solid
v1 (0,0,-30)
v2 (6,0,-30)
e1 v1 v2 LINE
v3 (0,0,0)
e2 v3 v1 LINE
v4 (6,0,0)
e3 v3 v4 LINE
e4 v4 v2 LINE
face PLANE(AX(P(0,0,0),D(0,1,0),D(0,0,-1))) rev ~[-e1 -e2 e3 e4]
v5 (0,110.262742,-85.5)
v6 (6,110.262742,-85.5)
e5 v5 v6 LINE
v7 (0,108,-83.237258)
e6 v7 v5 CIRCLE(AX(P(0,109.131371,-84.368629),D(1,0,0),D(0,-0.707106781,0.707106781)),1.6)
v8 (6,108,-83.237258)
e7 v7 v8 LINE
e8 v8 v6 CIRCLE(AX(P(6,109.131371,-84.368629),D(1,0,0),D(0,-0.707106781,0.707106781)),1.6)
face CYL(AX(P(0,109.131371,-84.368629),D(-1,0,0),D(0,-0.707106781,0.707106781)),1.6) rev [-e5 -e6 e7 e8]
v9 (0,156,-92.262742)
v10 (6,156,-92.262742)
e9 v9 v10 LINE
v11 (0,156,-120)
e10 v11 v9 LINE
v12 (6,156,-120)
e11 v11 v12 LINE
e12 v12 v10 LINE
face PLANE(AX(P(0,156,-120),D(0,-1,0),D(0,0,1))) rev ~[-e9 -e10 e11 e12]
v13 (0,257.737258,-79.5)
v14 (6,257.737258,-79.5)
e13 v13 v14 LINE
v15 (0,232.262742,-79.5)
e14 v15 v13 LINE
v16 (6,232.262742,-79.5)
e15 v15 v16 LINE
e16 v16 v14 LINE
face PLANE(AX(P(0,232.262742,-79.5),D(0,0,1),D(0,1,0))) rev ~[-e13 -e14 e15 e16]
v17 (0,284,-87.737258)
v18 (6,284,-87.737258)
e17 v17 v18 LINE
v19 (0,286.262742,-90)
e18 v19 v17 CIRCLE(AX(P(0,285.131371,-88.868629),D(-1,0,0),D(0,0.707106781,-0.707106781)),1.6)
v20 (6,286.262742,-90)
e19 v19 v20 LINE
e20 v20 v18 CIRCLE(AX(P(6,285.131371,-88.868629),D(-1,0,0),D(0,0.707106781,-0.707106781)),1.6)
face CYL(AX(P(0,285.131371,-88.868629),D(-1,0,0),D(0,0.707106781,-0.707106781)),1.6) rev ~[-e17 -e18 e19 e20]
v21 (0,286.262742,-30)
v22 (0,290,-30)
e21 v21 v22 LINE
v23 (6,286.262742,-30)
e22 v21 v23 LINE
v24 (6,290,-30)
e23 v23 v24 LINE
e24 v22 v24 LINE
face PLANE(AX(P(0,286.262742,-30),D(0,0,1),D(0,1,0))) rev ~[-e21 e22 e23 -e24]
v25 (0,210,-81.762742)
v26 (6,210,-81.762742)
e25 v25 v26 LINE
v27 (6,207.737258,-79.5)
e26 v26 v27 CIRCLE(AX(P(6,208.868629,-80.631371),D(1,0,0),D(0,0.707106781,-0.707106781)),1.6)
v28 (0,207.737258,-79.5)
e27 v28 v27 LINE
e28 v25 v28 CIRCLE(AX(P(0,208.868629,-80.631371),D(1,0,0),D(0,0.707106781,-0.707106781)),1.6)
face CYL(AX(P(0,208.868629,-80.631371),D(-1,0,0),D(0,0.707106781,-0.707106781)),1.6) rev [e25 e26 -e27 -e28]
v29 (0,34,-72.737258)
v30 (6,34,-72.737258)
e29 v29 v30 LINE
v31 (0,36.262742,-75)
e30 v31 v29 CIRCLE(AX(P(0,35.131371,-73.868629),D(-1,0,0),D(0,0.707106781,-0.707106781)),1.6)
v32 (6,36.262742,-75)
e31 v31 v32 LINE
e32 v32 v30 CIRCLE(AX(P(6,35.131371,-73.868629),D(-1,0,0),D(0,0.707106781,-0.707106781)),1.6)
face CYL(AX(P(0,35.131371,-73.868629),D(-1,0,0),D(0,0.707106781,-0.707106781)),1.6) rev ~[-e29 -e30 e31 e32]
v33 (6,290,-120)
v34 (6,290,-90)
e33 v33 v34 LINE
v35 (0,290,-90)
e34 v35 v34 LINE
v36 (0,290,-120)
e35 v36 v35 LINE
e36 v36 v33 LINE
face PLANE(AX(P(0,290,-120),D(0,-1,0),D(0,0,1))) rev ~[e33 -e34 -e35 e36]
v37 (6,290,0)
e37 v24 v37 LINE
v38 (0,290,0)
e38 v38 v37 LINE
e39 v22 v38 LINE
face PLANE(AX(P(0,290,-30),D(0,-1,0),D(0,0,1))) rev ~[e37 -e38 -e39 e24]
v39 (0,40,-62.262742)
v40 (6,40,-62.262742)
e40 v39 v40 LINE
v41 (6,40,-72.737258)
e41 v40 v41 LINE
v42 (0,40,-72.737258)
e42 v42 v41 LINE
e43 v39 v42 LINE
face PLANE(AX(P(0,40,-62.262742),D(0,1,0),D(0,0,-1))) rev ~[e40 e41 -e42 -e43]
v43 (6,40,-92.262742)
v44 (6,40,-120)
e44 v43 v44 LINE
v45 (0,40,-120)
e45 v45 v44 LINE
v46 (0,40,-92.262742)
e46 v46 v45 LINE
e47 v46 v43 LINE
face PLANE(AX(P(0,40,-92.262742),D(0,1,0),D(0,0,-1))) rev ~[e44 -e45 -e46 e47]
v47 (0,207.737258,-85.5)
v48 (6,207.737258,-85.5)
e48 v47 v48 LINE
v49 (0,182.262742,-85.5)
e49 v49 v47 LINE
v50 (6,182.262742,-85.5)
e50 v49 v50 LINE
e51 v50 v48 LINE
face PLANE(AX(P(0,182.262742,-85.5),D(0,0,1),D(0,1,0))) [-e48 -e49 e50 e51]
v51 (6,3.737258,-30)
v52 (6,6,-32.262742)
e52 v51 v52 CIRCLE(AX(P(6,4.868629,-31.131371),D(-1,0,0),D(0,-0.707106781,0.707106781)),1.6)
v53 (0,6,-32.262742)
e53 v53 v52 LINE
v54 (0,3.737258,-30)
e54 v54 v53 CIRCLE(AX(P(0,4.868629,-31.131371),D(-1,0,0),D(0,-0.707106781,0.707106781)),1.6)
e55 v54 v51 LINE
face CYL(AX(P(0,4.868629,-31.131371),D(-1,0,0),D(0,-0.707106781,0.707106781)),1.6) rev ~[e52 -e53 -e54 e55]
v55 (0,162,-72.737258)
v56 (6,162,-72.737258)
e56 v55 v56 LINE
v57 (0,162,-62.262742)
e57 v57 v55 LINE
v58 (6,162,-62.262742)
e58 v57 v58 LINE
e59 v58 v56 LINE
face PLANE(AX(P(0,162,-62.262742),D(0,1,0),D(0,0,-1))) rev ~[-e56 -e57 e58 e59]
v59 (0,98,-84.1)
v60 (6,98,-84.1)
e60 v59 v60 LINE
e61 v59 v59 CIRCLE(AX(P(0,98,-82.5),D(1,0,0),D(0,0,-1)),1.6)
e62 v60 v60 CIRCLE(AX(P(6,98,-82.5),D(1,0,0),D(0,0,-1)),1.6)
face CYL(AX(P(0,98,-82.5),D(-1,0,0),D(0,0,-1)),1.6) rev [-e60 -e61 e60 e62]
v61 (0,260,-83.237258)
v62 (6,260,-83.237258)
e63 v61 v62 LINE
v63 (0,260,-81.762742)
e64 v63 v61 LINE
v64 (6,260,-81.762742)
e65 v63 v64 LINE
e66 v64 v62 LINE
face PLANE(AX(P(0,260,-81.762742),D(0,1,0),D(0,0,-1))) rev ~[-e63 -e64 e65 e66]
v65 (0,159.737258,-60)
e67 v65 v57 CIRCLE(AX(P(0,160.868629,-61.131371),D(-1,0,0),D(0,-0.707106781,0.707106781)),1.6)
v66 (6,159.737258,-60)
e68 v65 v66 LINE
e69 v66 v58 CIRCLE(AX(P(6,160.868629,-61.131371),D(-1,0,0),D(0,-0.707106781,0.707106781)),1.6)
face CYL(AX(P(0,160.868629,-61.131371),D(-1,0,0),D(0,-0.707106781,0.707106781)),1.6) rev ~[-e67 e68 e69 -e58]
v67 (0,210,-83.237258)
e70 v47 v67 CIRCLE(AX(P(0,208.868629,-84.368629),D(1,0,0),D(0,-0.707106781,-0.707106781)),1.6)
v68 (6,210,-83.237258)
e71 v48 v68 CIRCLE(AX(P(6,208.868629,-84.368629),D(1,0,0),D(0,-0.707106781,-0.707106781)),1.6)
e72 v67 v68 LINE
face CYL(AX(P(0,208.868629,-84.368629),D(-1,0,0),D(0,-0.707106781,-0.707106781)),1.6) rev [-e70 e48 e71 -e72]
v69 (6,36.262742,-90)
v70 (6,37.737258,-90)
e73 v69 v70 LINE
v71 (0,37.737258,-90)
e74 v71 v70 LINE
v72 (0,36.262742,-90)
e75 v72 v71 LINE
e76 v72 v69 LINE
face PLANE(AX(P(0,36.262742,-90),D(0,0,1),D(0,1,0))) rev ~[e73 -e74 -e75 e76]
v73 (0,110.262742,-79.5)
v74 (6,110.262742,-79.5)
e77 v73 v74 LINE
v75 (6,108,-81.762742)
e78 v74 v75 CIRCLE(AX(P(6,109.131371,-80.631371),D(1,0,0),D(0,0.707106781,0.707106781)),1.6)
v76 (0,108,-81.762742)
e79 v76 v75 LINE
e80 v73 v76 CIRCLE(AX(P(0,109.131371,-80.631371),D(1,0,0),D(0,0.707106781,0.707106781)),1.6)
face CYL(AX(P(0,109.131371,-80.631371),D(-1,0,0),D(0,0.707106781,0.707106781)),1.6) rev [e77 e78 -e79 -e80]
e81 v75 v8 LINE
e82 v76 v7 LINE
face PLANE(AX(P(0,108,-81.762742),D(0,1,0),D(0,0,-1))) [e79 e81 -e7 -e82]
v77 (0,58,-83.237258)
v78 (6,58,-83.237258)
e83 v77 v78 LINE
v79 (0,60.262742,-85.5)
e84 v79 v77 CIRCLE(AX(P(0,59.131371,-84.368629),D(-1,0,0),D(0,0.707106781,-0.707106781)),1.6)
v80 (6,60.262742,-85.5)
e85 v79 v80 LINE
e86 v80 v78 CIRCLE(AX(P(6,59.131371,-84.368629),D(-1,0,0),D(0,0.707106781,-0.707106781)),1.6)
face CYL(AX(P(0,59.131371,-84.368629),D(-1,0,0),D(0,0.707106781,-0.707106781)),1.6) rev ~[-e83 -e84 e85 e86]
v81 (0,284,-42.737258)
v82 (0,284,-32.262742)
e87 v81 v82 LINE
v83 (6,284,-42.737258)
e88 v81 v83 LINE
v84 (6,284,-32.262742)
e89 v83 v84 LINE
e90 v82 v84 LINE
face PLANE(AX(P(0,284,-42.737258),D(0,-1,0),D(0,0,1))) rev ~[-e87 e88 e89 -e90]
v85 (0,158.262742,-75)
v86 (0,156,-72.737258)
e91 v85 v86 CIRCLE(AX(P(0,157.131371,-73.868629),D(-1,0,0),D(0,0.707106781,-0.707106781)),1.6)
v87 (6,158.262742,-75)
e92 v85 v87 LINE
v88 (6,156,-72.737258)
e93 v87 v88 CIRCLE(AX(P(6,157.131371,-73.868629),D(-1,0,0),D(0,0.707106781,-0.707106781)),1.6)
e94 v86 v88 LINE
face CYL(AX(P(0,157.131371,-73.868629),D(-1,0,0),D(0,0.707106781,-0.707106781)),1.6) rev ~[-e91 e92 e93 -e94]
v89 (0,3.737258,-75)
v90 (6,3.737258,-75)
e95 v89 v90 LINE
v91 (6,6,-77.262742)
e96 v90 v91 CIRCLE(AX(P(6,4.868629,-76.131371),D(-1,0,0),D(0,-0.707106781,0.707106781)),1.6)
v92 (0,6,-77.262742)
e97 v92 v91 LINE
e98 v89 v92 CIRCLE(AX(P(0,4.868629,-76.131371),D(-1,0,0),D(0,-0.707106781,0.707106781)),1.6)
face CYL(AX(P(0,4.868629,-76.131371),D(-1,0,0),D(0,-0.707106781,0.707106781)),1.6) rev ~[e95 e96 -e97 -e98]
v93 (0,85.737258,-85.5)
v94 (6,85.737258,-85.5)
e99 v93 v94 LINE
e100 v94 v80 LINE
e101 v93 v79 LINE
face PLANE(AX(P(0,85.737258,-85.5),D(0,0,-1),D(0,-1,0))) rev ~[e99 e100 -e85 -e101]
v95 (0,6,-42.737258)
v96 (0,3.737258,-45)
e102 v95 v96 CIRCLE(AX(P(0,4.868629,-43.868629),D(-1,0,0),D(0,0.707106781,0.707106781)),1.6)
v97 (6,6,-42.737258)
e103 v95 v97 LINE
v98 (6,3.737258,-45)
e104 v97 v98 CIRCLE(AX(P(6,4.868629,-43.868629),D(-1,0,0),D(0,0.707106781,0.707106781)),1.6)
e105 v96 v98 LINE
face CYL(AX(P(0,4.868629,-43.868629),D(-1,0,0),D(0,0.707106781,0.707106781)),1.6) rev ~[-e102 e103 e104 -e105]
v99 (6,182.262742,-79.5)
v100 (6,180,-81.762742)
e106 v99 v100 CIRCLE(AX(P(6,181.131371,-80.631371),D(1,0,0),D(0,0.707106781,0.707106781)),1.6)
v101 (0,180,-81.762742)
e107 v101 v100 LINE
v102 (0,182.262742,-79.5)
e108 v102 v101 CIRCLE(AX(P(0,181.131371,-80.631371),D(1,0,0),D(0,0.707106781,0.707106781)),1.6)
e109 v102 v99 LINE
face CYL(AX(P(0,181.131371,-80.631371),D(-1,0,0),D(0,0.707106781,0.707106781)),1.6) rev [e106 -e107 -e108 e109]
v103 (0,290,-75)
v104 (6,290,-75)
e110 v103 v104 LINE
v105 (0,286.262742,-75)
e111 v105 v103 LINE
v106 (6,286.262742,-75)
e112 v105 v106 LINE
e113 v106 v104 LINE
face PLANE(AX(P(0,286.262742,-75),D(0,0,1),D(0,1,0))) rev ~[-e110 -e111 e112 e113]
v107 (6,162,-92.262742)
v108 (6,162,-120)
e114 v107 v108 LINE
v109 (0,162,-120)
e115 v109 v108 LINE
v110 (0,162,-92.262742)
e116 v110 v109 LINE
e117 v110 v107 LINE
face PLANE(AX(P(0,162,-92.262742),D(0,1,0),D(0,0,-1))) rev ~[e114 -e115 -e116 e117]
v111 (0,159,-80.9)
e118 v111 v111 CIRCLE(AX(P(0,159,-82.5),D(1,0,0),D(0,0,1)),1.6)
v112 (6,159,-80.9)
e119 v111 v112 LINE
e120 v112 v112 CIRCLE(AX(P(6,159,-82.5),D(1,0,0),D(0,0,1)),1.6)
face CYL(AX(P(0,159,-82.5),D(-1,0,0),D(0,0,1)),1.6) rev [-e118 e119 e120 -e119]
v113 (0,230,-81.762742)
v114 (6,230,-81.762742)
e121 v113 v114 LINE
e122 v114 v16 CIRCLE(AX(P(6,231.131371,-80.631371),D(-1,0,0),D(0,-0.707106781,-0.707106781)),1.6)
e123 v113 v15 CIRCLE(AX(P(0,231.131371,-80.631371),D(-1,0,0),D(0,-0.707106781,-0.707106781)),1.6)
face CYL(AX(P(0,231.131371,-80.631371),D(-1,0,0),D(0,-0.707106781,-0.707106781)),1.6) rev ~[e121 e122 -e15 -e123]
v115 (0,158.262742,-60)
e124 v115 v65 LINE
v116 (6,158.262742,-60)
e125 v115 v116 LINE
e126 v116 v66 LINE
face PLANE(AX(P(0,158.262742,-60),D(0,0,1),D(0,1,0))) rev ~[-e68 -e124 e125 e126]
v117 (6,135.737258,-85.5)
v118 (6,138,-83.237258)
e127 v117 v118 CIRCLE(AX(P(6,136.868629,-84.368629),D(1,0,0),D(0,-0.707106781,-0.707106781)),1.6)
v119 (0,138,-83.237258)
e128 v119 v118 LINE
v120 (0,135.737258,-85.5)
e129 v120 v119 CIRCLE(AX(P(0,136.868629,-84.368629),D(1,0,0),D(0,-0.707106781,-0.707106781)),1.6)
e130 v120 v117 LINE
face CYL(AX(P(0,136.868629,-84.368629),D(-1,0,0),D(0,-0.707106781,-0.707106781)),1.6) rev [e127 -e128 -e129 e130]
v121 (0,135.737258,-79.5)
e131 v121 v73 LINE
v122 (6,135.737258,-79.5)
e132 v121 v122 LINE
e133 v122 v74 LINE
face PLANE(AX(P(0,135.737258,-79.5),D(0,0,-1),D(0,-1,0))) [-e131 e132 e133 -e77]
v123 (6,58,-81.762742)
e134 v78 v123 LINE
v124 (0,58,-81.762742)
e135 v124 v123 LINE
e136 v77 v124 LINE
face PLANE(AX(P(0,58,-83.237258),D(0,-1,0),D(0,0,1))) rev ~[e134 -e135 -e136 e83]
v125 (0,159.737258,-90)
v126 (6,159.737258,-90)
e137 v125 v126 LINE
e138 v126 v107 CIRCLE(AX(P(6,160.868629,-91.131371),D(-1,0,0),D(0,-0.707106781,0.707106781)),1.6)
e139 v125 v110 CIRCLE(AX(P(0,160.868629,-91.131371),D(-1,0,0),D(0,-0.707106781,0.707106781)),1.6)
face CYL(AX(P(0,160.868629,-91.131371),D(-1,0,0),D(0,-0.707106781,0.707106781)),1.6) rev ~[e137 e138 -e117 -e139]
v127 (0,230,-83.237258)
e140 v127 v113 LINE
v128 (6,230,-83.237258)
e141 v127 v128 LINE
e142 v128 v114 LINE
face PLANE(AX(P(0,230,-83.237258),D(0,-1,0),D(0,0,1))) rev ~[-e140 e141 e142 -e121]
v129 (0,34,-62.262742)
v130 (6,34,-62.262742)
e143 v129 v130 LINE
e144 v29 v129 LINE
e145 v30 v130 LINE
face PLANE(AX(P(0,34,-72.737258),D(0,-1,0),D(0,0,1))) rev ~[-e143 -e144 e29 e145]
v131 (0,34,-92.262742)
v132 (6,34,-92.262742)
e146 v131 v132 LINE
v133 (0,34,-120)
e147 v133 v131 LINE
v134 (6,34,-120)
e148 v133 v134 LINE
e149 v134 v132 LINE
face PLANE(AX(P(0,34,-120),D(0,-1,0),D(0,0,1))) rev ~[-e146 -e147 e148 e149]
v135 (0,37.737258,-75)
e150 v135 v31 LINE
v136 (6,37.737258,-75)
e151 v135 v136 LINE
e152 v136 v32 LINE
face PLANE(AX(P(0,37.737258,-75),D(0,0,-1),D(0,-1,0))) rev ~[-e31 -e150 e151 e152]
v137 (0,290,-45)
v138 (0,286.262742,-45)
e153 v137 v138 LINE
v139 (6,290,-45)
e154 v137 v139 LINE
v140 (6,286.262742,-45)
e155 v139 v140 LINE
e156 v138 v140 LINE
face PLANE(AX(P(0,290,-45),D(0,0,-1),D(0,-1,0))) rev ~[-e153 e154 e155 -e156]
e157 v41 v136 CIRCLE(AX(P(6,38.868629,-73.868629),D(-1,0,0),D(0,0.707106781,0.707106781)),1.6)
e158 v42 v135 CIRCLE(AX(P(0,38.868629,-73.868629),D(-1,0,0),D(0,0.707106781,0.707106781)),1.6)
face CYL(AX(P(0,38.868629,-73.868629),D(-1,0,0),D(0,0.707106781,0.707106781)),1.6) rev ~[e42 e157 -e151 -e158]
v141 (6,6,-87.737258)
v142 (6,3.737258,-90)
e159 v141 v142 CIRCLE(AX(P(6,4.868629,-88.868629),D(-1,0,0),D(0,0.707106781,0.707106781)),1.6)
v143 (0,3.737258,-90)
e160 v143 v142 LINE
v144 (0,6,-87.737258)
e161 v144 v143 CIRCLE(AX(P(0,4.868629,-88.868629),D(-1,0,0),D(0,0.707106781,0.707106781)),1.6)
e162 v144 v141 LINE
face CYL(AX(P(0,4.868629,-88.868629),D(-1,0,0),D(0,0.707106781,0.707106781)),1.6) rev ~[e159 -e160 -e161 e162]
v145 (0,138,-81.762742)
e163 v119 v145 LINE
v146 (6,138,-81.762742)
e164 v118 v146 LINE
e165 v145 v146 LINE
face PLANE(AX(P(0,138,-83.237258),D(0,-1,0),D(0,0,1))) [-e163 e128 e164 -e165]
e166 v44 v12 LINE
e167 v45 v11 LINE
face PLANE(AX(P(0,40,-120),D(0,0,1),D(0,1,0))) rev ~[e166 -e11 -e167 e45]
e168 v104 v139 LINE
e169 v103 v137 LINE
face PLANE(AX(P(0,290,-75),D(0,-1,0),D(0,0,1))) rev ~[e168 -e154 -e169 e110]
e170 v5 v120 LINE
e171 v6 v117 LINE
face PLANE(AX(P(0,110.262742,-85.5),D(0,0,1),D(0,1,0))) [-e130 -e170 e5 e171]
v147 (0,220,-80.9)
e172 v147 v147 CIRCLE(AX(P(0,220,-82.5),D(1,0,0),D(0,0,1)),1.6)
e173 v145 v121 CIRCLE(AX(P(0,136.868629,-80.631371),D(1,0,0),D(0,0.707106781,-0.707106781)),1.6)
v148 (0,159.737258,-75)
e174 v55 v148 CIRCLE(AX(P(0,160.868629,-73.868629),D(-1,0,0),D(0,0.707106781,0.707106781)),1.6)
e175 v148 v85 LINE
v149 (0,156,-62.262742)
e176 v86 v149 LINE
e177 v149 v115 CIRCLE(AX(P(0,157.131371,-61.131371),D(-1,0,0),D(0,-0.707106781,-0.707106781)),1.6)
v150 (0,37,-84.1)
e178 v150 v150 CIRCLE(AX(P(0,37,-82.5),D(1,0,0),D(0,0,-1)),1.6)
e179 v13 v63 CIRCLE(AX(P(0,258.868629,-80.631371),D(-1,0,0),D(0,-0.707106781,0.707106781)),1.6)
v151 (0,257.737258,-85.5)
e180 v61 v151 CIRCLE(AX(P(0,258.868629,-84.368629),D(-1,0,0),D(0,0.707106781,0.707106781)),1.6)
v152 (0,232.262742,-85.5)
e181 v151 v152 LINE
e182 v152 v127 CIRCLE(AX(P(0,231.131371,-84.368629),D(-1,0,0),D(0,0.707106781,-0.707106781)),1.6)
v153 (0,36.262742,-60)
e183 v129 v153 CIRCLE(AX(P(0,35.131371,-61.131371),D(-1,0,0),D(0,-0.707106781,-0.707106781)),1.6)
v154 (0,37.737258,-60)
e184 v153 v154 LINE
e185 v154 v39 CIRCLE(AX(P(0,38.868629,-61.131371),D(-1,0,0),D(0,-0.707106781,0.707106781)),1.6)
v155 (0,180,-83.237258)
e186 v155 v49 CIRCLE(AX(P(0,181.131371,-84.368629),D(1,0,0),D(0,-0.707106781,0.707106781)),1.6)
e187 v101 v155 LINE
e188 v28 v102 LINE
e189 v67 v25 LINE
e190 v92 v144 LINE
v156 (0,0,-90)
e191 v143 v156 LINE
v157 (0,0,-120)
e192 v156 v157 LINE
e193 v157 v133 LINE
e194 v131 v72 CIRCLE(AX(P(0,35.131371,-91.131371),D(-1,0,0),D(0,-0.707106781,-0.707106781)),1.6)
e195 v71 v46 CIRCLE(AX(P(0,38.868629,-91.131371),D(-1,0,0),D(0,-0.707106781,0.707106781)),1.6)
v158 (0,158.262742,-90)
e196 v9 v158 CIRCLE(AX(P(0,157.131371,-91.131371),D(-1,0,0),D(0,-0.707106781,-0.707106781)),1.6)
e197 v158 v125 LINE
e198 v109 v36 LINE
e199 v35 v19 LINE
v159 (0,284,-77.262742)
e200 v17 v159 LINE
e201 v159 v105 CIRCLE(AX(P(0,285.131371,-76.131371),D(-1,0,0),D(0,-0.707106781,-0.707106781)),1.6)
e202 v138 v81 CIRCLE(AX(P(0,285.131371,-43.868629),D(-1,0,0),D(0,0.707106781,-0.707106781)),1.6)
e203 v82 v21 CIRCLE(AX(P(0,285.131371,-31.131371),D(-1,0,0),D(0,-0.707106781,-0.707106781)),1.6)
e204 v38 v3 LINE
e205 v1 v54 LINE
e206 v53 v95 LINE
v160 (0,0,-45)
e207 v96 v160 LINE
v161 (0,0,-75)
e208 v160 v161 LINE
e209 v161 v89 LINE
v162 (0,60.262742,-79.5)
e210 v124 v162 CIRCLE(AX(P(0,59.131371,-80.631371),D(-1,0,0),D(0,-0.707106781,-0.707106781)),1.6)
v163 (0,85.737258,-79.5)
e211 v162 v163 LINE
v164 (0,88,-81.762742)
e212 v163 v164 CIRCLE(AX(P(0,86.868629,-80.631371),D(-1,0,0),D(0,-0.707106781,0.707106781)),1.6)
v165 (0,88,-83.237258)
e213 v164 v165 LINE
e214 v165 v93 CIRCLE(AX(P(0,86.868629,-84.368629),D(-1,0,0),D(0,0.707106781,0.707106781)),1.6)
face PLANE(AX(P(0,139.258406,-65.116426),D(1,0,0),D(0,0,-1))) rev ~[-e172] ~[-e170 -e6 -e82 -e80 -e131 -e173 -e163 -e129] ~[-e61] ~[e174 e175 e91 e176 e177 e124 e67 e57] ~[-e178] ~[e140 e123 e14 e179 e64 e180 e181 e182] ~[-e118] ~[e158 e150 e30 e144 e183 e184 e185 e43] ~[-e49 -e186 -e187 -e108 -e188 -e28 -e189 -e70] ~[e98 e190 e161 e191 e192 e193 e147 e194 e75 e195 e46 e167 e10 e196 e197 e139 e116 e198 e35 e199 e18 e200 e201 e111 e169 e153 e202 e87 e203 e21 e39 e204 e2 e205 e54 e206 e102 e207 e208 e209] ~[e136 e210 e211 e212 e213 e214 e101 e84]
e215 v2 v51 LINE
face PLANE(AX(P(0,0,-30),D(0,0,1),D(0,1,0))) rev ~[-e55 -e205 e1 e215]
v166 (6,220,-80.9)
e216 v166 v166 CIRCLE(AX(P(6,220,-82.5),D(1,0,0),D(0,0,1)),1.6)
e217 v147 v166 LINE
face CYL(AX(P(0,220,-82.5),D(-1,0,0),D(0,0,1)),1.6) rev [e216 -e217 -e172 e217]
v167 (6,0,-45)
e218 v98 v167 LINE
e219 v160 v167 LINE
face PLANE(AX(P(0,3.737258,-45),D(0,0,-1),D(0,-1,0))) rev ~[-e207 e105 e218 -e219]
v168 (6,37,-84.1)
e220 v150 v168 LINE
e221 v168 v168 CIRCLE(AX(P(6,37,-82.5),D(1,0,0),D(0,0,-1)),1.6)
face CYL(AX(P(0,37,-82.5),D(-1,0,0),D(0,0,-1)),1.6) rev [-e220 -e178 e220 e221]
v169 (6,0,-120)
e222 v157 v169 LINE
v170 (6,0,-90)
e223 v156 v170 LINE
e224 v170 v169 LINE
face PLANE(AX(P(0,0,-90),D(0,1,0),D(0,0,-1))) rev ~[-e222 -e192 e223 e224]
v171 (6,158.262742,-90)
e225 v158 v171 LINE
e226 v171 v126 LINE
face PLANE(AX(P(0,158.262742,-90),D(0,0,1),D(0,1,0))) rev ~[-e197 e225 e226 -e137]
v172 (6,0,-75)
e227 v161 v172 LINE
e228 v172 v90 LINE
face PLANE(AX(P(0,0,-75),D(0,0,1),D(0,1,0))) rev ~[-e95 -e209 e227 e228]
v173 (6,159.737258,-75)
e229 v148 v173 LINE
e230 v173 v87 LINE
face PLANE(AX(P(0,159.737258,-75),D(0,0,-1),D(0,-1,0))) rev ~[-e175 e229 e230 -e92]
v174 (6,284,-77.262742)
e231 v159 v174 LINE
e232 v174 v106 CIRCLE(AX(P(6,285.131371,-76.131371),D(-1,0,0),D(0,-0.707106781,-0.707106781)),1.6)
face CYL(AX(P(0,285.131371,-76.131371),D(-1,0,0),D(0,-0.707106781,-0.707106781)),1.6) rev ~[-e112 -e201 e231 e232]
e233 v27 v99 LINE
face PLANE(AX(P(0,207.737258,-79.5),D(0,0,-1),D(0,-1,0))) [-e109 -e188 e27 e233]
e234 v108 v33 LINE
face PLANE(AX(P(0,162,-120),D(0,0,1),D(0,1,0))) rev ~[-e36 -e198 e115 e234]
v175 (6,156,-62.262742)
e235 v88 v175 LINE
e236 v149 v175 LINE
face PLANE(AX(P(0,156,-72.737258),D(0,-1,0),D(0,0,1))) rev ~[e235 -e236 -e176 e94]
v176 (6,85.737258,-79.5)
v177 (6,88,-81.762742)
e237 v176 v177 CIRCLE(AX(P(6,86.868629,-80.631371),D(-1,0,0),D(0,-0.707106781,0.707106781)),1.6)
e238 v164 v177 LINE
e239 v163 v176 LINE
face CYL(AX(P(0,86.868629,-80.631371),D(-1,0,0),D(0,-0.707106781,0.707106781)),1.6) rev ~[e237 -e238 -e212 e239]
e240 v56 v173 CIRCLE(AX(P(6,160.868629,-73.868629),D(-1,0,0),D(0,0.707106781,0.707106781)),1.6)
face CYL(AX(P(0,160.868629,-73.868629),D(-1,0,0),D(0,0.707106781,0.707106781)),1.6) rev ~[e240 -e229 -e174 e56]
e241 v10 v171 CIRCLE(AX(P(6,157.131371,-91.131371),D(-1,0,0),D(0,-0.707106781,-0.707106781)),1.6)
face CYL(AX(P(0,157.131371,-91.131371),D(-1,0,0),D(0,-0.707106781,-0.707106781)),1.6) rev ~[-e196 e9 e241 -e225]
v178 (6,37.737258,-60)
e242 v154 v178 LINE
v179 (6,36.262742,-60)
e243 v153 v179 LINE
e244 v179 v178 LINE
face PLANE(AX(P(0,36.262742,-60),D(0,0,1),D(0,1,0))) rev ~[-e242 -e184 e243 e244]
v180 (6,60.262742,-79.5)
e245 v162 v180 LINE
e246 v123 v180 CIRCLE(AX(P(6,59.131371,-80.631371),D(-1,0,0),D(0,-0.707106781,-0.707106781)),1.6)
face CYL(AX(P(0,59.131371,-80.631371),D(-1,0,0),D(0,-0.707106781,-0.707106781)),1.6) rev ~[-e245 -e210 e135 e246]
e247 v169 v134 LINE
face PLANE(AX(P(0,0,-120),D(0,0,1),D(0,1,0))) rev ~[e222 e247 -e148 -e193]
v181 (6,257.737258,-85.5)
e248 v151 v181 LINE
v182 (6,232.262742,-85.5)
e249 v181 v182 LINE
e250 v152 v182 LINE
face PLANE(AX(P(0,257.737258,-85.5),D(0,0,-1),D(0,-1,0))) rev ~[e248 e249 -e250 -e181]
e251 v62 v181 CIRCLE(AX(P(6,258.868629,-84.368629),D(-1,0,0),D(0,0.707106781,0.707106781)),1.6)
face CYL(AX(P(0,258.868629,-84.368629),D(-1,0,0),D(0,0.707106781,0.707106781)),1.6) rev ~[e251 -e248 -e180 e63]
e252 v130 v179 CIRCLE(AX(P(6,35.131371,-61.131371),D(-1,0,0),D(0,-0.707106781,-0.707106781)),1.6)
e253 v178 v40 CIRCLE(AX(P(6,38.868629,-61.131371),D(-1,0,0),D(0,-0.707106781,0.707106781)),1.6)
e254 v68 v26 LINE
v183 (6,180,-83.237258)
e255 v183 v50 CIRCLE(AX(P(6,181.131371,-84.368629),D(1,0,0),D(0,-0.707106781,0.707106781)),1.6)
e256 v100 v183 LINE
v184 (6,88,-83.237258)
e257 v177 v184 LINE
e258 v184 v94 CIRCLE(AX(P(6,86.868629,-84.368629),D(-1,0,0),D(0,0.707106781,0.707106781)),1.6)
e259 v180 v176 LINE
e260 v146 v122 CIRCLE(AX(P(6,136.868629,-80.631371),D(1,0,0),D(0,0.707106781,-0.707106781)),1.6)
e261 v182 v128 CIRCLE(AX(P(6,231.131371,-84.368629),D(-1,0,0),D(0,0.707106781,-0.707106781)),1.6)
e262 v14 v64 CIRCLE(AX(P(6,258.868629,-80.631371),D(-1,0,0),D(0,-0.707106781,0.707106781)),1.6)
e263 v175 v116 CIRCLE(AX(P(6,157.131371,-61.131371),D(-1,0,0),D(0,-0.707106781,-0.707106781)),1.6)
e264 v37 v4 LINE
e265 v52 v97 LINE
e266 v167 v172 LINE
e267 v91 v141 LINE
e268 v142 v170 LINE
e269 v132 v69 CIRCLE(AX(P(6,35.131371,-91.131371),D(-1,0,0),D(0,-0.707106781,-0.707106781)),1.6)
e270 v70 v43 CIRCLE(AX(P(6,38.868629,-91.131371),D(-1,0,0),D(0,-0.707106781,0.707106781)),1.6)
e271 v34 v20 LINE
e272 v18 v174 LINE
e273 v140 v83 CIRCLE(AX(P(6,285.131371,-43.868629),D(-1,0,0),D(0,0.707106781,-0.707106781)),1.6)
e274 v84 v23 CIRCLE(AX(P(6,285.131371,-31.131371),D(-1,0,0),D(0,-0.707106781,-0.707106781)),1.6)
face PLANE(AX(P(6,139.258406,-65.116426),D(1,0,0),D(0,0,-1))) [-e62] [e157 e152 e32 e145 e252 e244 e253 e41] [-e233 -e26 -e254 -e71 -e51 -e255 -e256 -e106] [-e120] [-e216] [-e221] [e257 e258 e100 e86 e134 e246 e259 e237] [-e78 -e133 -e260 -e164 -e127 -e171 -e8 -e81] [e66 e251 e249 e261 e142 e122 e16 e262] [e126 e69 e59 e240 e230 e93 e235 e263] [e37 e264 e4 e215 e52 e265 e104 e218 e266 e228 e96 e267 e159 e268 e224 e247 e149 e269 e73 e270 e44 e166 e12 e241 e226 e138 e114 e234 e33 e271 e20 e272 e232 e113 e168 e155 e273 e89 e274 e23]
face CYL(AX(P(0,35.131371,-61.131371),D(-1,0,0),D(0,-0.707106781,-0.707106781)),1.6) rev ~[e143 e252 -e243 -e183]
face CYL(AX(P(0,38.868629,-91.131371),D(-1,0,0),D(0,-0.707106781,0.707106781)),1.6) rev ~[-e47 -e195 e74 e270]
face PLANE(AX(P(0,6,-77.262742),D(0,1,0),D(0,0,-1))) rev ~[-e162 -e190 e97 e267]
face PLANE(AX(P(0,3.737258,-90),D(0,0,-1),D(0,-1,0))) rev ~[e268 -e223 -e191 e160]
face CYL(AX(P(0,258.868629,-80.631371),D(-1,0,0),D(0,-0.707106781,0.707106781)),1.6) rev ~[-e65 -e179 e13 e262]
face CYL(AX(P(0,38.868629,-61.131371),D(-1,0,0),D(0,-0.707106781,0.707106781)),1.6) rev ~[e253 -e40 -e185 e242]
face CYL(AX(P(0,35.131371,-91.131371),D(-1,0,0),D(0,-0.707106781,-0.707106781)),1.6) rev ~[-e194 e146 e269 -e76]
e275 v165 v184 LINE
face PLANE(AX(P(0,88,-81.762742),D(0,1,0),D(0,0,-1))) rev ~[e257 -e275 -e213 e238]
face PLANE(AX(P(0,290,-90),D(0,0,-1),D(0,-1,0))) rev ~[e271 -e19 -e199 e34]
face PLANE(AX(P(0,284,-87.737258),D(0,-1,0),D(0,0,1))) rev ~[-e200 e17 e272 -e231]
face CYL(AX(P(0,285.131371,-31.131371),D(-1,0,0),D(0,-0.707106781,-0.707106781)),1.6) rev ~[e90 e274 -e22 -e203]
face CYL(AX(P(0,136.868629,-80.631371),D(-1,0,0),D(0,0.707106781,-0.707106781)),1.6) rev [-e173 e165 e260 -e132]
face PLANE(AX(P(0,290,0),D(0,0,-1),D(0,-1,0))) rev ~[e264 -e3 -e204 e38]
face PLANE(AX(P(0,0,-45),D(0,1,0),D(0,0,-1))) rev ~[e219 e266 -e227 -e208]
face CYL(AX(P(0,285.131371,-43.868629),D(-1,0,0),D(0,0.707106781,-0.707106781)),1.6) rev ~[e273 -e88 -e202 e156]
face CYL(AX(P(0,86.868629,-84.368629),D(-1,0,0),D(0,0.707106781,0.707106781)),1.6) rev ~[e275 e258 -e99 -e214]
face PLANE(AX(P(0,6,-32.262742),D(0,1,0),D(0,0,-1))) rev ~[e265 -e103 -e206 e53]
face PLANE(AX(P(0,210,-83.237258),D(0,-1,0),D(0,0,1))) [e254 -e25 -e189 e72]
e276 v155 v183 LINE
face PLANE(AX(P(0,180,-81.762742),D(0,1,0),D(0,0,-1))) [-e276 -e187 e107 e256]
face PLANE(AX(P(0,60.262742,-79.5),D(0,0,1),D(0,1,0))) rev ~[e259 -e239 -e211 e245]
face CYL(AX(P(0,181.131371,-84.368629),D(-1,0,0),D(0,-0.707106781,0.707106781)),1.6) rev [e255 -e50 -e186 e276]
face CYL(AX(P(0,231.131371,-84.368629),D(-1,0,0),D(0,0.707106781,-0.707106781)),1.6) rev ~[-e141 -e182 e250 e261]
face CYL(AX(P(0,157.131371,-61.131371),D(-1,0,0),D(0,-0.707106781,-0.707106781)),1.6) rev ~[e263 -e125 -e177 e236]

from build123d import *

# Parameters (mm, degrees)
ESQUISSE1_R      = 1.6
EXTRUSION1_DEPTH = 6


with BuildPart() as part:
    # Esquisse1 → Extrusion1 (new body)
    with BuildSketch(Plane(origin=(0, 0, 0), x_dir=(0, 0, -1), z_dir=(1, 0, 0))):
        with BuildLine():
            Line((32.2627417, 6), (42.7372583, 6))
            ThreePointArc((42.7372583, 6), (45, 6), (45, 3.7372583))
            Line((45, 3.7372583), (45, 0))
            Line((45, 0), (75, 0))
            Line((75, 0), (75, 3.7372583))
            ThreePointArc((75, 3.7372583), (75, 6), (77.2627417, 6))
            Line((77.2627417, 6), (87.7372583, 6))
            ThreePointArc((87.7372583, 6), (90, 6), (90, 3.7372583))
            Line((90, 3.7372583), (90, 0))
            Line((90, 0), (120, 0))
            Line((120, 0), (120, 34))
            Line((120, 34), (92.2627417, 34))
            ThreePointArc((92.2627417, 34), (90, 34), (90, 36.2627417))
            Line((90, 36.2627417), (90, 37.7372583))
            ThreePointArc((90, 37.7372583), (90, 40), (92.2627417, 40))
            Line((92.2627417, 40), (120, 40))
            Line((120, 40), (120, 156))
            Line((120, 156), (92.2627417, 156))
            ThreePointArc((92.2627417, 156), (90, 156), (90, 158.2627417))
            Line((90, 158.2627417), (90, 159.7372583))
            ThreePointArc((90, 159.7372583), (90, 162), (92.2627417, 162))
            Line((92.2627417, 162), (120, 162))
            Line((120, 162), (120, 290))
            Line((120, 290), (90, 290))
            Line((90, 290), (90, 286.2627417))
            ThreePointArc((90, 286.2627417), (90, 284), (87.7372583, 284))
            Line((87.7372583, 284), (77.2627417, 284))
            ThreePointArc((77.2627417, 284), (75, 284), (75, 286.2627417))
            Line((75, 286.2627417), (75, 290))
            Line((75, 290), (45, 290))
            Line((45, 290), (45, 286.2627417))
            ThreePointArc((45, 286.2627417), (45, 284), (42.7372583, 284))
            Line((42.7372583, 284), (32.2627417, 284))
            ThreePointArc((32.2627417, 284), (30, 284), (30, 286.2627417))
            Line((30, 286.2627417), (30, 290))
            Line((30, 290), (0, 290))
            Line((0, 290), (0, 0))
            Line((0, 0), (30, 0))
            Line((30, 0), (30, 3.7372583))
            ThreePointArc((30, 3.7372583), (30, 6), (32.2627417, 6))
        make_face()
        with Locations((82.5, 37)):
            Circle(ESQUISSE1_R, mode=Mode.SUBTRACT)
        with Locations(Location((82.5, 159, 0), (0, 0, 180))):  # turned: the seam where the file's is
            Circle(ESQUISSE1_R, mode=Mode.SUBTRACT)
        with Locations((82.5, 98)):
            Circle(ESQUISSE1_R, mode=Mode.SUBTRACT)
        with Locations(Location((82.5, 220, 0), (0, 0, 180))):  # turned: the seam where the file's is
            Circle(ESQUISSE1_R, mode=Mode.SUBTRACT)
        with BuildLine():
            Line((75, 37.7372583), (75, 36.2627417))
            ThreePointArc((75, 36.2627417), (75, 34), (72.7372583, 34))
            Line((72.7372583, 34), (62.2627417, 34))
            ThreePointArc((62.2627417, 34), (60, 34), (60, 36.2627417))
            Line((60, 36.2627417), (60, 37.7372583))
            ThreePointArc((60, 37.7372583), (60, 40), (62.2627417, 40))
            Line((62.2627417, 40), (72.7372583, 40))
            ThreePointArc((72.7372583, 40), (75, 40), (75, 37.7372583))
        make_face(mode=Mode.SUBTRACT)
        with BuildLine():
            Line((60, 158.2627417), (60, 159.7372583))
            ThreePointArc((60, 159.7372583), (60, 162), (62.2627417, 162))
            Line((62.2627417, 162), (72.7372583, 162))
            ThreePointArc((72.7372583, 162), (75, 162), (75, 159.7372583))
            Line((75, 159.7372583), (75, 158.2627417))
            ThreePointArc((75, 158.2627417), (75, 156), (72.7372583, 156))
            Line((72.7372583, 156), (62.2627417, 156))
            ThreePointArc((62.2627417, 156), (60, 156), (60, 158.2627417))
        make_face(mode=Mode.SUBTRACT)
        with BuildLine():
            Line((83.2372583, 138), (81.7627417, 138))
            ThreePointArc((81.7627417, 138), (79.5, 138), (79.5, 135.7372583))
            Line((79.5, 135.7372583), (79.5, 110.2627417))
            ThreePointArc((79.5, 110.2627417), (79.5, 108), (81.7627417, 108))
            Line((81.7627417, 108), (83.2372583, 108))
            ThreePointArc((83.2372583, 108), (85.5, 108), (85.5, 110.2627417))
            Line((85.5, 110.2627417), (85.5, 135.7372583))
            ThreePointArc((85.5, 135.7372583), (85.5, 138), (83.2372583, 138))
        make_face(mode=Mode.SUBTRACT)
        with BuildLine():
            Line((83.2372583, 58), (81.7627417, 58))
            ThreePointArc((81.7627417, 58), (79.5, 58), (79.5, 60.2627417))
            Line((79.5, 60.2627417), (79.5, 85.7372583))
            ThreePointArc((79.5, 85.7372583), (79.5, 88), (81.7627417, 88))
            Line((81.7627417, 88), (83.2372583, 88))
            ThreePointArc((83.2372583, 88), (85.5, 88), (85.5, 85.7372583))
            Line((85.5, 85.7372583), (85.5, 60.2627417))
            ThreePointArc((85.5, 60.2627417), (85.5, 58), (83.2372583, 58))
        make_face(mode=Mode.SUBTRACT)
        with BuildLine():
            Line((85.5, 257.7372583), (85.5, 232.2627417))
            ThreePointArc((85.5, 232.2627417), (85.5, 230), (83.2372583, 230))
            Line((83.2372583, 230), (81.7627417, 230))
            ThreePointArc((81.7627417, 230), (79.5, 230), (79.5, 232.2627417))
            Line((79.5, 232.2627417), (79.5, 257.7372583))
            ThreePointArc((79.5, 257.7372583), (79.5, 260), (81.7627417, 260))
            Line((81.7627417, 260), (83.2372583, 260))
            ThreePointArc((83.2372583, 260), (85.5, 260), (85.5, 257.7372583))
        make_face(mode=Mode.SUBTRACT)
        with BuildLine():
            Line((83.2372583, 210), (81.7627417, 210))
            ThreePointArc((81.7627417, 210), (79.5, 210), (79.5, 207.7372583))
            Line((79.5, 207.7372583), (79.5, 182.2627417))
            ThreePointArc((79.5, 182.2627417), (79.5, 180), (81.7627417, 180))
            Line((81.7627417, 180), (83.2372583, 180))
            ThreePointArc((83.2372583, 180), (85.5, 180), (85.5, 182.2627417))
            Line((85.5, 182.2627417), (85.5, 207.7372583))
            ThreePointArc((85.5, 207.7372583), (85.5, 210), (83.2372583, 210))
        make_face(mode=Mode.SUBTRACT)
    extrude(amount=EXTRUSION1_DEPTH)


solid = part.part
